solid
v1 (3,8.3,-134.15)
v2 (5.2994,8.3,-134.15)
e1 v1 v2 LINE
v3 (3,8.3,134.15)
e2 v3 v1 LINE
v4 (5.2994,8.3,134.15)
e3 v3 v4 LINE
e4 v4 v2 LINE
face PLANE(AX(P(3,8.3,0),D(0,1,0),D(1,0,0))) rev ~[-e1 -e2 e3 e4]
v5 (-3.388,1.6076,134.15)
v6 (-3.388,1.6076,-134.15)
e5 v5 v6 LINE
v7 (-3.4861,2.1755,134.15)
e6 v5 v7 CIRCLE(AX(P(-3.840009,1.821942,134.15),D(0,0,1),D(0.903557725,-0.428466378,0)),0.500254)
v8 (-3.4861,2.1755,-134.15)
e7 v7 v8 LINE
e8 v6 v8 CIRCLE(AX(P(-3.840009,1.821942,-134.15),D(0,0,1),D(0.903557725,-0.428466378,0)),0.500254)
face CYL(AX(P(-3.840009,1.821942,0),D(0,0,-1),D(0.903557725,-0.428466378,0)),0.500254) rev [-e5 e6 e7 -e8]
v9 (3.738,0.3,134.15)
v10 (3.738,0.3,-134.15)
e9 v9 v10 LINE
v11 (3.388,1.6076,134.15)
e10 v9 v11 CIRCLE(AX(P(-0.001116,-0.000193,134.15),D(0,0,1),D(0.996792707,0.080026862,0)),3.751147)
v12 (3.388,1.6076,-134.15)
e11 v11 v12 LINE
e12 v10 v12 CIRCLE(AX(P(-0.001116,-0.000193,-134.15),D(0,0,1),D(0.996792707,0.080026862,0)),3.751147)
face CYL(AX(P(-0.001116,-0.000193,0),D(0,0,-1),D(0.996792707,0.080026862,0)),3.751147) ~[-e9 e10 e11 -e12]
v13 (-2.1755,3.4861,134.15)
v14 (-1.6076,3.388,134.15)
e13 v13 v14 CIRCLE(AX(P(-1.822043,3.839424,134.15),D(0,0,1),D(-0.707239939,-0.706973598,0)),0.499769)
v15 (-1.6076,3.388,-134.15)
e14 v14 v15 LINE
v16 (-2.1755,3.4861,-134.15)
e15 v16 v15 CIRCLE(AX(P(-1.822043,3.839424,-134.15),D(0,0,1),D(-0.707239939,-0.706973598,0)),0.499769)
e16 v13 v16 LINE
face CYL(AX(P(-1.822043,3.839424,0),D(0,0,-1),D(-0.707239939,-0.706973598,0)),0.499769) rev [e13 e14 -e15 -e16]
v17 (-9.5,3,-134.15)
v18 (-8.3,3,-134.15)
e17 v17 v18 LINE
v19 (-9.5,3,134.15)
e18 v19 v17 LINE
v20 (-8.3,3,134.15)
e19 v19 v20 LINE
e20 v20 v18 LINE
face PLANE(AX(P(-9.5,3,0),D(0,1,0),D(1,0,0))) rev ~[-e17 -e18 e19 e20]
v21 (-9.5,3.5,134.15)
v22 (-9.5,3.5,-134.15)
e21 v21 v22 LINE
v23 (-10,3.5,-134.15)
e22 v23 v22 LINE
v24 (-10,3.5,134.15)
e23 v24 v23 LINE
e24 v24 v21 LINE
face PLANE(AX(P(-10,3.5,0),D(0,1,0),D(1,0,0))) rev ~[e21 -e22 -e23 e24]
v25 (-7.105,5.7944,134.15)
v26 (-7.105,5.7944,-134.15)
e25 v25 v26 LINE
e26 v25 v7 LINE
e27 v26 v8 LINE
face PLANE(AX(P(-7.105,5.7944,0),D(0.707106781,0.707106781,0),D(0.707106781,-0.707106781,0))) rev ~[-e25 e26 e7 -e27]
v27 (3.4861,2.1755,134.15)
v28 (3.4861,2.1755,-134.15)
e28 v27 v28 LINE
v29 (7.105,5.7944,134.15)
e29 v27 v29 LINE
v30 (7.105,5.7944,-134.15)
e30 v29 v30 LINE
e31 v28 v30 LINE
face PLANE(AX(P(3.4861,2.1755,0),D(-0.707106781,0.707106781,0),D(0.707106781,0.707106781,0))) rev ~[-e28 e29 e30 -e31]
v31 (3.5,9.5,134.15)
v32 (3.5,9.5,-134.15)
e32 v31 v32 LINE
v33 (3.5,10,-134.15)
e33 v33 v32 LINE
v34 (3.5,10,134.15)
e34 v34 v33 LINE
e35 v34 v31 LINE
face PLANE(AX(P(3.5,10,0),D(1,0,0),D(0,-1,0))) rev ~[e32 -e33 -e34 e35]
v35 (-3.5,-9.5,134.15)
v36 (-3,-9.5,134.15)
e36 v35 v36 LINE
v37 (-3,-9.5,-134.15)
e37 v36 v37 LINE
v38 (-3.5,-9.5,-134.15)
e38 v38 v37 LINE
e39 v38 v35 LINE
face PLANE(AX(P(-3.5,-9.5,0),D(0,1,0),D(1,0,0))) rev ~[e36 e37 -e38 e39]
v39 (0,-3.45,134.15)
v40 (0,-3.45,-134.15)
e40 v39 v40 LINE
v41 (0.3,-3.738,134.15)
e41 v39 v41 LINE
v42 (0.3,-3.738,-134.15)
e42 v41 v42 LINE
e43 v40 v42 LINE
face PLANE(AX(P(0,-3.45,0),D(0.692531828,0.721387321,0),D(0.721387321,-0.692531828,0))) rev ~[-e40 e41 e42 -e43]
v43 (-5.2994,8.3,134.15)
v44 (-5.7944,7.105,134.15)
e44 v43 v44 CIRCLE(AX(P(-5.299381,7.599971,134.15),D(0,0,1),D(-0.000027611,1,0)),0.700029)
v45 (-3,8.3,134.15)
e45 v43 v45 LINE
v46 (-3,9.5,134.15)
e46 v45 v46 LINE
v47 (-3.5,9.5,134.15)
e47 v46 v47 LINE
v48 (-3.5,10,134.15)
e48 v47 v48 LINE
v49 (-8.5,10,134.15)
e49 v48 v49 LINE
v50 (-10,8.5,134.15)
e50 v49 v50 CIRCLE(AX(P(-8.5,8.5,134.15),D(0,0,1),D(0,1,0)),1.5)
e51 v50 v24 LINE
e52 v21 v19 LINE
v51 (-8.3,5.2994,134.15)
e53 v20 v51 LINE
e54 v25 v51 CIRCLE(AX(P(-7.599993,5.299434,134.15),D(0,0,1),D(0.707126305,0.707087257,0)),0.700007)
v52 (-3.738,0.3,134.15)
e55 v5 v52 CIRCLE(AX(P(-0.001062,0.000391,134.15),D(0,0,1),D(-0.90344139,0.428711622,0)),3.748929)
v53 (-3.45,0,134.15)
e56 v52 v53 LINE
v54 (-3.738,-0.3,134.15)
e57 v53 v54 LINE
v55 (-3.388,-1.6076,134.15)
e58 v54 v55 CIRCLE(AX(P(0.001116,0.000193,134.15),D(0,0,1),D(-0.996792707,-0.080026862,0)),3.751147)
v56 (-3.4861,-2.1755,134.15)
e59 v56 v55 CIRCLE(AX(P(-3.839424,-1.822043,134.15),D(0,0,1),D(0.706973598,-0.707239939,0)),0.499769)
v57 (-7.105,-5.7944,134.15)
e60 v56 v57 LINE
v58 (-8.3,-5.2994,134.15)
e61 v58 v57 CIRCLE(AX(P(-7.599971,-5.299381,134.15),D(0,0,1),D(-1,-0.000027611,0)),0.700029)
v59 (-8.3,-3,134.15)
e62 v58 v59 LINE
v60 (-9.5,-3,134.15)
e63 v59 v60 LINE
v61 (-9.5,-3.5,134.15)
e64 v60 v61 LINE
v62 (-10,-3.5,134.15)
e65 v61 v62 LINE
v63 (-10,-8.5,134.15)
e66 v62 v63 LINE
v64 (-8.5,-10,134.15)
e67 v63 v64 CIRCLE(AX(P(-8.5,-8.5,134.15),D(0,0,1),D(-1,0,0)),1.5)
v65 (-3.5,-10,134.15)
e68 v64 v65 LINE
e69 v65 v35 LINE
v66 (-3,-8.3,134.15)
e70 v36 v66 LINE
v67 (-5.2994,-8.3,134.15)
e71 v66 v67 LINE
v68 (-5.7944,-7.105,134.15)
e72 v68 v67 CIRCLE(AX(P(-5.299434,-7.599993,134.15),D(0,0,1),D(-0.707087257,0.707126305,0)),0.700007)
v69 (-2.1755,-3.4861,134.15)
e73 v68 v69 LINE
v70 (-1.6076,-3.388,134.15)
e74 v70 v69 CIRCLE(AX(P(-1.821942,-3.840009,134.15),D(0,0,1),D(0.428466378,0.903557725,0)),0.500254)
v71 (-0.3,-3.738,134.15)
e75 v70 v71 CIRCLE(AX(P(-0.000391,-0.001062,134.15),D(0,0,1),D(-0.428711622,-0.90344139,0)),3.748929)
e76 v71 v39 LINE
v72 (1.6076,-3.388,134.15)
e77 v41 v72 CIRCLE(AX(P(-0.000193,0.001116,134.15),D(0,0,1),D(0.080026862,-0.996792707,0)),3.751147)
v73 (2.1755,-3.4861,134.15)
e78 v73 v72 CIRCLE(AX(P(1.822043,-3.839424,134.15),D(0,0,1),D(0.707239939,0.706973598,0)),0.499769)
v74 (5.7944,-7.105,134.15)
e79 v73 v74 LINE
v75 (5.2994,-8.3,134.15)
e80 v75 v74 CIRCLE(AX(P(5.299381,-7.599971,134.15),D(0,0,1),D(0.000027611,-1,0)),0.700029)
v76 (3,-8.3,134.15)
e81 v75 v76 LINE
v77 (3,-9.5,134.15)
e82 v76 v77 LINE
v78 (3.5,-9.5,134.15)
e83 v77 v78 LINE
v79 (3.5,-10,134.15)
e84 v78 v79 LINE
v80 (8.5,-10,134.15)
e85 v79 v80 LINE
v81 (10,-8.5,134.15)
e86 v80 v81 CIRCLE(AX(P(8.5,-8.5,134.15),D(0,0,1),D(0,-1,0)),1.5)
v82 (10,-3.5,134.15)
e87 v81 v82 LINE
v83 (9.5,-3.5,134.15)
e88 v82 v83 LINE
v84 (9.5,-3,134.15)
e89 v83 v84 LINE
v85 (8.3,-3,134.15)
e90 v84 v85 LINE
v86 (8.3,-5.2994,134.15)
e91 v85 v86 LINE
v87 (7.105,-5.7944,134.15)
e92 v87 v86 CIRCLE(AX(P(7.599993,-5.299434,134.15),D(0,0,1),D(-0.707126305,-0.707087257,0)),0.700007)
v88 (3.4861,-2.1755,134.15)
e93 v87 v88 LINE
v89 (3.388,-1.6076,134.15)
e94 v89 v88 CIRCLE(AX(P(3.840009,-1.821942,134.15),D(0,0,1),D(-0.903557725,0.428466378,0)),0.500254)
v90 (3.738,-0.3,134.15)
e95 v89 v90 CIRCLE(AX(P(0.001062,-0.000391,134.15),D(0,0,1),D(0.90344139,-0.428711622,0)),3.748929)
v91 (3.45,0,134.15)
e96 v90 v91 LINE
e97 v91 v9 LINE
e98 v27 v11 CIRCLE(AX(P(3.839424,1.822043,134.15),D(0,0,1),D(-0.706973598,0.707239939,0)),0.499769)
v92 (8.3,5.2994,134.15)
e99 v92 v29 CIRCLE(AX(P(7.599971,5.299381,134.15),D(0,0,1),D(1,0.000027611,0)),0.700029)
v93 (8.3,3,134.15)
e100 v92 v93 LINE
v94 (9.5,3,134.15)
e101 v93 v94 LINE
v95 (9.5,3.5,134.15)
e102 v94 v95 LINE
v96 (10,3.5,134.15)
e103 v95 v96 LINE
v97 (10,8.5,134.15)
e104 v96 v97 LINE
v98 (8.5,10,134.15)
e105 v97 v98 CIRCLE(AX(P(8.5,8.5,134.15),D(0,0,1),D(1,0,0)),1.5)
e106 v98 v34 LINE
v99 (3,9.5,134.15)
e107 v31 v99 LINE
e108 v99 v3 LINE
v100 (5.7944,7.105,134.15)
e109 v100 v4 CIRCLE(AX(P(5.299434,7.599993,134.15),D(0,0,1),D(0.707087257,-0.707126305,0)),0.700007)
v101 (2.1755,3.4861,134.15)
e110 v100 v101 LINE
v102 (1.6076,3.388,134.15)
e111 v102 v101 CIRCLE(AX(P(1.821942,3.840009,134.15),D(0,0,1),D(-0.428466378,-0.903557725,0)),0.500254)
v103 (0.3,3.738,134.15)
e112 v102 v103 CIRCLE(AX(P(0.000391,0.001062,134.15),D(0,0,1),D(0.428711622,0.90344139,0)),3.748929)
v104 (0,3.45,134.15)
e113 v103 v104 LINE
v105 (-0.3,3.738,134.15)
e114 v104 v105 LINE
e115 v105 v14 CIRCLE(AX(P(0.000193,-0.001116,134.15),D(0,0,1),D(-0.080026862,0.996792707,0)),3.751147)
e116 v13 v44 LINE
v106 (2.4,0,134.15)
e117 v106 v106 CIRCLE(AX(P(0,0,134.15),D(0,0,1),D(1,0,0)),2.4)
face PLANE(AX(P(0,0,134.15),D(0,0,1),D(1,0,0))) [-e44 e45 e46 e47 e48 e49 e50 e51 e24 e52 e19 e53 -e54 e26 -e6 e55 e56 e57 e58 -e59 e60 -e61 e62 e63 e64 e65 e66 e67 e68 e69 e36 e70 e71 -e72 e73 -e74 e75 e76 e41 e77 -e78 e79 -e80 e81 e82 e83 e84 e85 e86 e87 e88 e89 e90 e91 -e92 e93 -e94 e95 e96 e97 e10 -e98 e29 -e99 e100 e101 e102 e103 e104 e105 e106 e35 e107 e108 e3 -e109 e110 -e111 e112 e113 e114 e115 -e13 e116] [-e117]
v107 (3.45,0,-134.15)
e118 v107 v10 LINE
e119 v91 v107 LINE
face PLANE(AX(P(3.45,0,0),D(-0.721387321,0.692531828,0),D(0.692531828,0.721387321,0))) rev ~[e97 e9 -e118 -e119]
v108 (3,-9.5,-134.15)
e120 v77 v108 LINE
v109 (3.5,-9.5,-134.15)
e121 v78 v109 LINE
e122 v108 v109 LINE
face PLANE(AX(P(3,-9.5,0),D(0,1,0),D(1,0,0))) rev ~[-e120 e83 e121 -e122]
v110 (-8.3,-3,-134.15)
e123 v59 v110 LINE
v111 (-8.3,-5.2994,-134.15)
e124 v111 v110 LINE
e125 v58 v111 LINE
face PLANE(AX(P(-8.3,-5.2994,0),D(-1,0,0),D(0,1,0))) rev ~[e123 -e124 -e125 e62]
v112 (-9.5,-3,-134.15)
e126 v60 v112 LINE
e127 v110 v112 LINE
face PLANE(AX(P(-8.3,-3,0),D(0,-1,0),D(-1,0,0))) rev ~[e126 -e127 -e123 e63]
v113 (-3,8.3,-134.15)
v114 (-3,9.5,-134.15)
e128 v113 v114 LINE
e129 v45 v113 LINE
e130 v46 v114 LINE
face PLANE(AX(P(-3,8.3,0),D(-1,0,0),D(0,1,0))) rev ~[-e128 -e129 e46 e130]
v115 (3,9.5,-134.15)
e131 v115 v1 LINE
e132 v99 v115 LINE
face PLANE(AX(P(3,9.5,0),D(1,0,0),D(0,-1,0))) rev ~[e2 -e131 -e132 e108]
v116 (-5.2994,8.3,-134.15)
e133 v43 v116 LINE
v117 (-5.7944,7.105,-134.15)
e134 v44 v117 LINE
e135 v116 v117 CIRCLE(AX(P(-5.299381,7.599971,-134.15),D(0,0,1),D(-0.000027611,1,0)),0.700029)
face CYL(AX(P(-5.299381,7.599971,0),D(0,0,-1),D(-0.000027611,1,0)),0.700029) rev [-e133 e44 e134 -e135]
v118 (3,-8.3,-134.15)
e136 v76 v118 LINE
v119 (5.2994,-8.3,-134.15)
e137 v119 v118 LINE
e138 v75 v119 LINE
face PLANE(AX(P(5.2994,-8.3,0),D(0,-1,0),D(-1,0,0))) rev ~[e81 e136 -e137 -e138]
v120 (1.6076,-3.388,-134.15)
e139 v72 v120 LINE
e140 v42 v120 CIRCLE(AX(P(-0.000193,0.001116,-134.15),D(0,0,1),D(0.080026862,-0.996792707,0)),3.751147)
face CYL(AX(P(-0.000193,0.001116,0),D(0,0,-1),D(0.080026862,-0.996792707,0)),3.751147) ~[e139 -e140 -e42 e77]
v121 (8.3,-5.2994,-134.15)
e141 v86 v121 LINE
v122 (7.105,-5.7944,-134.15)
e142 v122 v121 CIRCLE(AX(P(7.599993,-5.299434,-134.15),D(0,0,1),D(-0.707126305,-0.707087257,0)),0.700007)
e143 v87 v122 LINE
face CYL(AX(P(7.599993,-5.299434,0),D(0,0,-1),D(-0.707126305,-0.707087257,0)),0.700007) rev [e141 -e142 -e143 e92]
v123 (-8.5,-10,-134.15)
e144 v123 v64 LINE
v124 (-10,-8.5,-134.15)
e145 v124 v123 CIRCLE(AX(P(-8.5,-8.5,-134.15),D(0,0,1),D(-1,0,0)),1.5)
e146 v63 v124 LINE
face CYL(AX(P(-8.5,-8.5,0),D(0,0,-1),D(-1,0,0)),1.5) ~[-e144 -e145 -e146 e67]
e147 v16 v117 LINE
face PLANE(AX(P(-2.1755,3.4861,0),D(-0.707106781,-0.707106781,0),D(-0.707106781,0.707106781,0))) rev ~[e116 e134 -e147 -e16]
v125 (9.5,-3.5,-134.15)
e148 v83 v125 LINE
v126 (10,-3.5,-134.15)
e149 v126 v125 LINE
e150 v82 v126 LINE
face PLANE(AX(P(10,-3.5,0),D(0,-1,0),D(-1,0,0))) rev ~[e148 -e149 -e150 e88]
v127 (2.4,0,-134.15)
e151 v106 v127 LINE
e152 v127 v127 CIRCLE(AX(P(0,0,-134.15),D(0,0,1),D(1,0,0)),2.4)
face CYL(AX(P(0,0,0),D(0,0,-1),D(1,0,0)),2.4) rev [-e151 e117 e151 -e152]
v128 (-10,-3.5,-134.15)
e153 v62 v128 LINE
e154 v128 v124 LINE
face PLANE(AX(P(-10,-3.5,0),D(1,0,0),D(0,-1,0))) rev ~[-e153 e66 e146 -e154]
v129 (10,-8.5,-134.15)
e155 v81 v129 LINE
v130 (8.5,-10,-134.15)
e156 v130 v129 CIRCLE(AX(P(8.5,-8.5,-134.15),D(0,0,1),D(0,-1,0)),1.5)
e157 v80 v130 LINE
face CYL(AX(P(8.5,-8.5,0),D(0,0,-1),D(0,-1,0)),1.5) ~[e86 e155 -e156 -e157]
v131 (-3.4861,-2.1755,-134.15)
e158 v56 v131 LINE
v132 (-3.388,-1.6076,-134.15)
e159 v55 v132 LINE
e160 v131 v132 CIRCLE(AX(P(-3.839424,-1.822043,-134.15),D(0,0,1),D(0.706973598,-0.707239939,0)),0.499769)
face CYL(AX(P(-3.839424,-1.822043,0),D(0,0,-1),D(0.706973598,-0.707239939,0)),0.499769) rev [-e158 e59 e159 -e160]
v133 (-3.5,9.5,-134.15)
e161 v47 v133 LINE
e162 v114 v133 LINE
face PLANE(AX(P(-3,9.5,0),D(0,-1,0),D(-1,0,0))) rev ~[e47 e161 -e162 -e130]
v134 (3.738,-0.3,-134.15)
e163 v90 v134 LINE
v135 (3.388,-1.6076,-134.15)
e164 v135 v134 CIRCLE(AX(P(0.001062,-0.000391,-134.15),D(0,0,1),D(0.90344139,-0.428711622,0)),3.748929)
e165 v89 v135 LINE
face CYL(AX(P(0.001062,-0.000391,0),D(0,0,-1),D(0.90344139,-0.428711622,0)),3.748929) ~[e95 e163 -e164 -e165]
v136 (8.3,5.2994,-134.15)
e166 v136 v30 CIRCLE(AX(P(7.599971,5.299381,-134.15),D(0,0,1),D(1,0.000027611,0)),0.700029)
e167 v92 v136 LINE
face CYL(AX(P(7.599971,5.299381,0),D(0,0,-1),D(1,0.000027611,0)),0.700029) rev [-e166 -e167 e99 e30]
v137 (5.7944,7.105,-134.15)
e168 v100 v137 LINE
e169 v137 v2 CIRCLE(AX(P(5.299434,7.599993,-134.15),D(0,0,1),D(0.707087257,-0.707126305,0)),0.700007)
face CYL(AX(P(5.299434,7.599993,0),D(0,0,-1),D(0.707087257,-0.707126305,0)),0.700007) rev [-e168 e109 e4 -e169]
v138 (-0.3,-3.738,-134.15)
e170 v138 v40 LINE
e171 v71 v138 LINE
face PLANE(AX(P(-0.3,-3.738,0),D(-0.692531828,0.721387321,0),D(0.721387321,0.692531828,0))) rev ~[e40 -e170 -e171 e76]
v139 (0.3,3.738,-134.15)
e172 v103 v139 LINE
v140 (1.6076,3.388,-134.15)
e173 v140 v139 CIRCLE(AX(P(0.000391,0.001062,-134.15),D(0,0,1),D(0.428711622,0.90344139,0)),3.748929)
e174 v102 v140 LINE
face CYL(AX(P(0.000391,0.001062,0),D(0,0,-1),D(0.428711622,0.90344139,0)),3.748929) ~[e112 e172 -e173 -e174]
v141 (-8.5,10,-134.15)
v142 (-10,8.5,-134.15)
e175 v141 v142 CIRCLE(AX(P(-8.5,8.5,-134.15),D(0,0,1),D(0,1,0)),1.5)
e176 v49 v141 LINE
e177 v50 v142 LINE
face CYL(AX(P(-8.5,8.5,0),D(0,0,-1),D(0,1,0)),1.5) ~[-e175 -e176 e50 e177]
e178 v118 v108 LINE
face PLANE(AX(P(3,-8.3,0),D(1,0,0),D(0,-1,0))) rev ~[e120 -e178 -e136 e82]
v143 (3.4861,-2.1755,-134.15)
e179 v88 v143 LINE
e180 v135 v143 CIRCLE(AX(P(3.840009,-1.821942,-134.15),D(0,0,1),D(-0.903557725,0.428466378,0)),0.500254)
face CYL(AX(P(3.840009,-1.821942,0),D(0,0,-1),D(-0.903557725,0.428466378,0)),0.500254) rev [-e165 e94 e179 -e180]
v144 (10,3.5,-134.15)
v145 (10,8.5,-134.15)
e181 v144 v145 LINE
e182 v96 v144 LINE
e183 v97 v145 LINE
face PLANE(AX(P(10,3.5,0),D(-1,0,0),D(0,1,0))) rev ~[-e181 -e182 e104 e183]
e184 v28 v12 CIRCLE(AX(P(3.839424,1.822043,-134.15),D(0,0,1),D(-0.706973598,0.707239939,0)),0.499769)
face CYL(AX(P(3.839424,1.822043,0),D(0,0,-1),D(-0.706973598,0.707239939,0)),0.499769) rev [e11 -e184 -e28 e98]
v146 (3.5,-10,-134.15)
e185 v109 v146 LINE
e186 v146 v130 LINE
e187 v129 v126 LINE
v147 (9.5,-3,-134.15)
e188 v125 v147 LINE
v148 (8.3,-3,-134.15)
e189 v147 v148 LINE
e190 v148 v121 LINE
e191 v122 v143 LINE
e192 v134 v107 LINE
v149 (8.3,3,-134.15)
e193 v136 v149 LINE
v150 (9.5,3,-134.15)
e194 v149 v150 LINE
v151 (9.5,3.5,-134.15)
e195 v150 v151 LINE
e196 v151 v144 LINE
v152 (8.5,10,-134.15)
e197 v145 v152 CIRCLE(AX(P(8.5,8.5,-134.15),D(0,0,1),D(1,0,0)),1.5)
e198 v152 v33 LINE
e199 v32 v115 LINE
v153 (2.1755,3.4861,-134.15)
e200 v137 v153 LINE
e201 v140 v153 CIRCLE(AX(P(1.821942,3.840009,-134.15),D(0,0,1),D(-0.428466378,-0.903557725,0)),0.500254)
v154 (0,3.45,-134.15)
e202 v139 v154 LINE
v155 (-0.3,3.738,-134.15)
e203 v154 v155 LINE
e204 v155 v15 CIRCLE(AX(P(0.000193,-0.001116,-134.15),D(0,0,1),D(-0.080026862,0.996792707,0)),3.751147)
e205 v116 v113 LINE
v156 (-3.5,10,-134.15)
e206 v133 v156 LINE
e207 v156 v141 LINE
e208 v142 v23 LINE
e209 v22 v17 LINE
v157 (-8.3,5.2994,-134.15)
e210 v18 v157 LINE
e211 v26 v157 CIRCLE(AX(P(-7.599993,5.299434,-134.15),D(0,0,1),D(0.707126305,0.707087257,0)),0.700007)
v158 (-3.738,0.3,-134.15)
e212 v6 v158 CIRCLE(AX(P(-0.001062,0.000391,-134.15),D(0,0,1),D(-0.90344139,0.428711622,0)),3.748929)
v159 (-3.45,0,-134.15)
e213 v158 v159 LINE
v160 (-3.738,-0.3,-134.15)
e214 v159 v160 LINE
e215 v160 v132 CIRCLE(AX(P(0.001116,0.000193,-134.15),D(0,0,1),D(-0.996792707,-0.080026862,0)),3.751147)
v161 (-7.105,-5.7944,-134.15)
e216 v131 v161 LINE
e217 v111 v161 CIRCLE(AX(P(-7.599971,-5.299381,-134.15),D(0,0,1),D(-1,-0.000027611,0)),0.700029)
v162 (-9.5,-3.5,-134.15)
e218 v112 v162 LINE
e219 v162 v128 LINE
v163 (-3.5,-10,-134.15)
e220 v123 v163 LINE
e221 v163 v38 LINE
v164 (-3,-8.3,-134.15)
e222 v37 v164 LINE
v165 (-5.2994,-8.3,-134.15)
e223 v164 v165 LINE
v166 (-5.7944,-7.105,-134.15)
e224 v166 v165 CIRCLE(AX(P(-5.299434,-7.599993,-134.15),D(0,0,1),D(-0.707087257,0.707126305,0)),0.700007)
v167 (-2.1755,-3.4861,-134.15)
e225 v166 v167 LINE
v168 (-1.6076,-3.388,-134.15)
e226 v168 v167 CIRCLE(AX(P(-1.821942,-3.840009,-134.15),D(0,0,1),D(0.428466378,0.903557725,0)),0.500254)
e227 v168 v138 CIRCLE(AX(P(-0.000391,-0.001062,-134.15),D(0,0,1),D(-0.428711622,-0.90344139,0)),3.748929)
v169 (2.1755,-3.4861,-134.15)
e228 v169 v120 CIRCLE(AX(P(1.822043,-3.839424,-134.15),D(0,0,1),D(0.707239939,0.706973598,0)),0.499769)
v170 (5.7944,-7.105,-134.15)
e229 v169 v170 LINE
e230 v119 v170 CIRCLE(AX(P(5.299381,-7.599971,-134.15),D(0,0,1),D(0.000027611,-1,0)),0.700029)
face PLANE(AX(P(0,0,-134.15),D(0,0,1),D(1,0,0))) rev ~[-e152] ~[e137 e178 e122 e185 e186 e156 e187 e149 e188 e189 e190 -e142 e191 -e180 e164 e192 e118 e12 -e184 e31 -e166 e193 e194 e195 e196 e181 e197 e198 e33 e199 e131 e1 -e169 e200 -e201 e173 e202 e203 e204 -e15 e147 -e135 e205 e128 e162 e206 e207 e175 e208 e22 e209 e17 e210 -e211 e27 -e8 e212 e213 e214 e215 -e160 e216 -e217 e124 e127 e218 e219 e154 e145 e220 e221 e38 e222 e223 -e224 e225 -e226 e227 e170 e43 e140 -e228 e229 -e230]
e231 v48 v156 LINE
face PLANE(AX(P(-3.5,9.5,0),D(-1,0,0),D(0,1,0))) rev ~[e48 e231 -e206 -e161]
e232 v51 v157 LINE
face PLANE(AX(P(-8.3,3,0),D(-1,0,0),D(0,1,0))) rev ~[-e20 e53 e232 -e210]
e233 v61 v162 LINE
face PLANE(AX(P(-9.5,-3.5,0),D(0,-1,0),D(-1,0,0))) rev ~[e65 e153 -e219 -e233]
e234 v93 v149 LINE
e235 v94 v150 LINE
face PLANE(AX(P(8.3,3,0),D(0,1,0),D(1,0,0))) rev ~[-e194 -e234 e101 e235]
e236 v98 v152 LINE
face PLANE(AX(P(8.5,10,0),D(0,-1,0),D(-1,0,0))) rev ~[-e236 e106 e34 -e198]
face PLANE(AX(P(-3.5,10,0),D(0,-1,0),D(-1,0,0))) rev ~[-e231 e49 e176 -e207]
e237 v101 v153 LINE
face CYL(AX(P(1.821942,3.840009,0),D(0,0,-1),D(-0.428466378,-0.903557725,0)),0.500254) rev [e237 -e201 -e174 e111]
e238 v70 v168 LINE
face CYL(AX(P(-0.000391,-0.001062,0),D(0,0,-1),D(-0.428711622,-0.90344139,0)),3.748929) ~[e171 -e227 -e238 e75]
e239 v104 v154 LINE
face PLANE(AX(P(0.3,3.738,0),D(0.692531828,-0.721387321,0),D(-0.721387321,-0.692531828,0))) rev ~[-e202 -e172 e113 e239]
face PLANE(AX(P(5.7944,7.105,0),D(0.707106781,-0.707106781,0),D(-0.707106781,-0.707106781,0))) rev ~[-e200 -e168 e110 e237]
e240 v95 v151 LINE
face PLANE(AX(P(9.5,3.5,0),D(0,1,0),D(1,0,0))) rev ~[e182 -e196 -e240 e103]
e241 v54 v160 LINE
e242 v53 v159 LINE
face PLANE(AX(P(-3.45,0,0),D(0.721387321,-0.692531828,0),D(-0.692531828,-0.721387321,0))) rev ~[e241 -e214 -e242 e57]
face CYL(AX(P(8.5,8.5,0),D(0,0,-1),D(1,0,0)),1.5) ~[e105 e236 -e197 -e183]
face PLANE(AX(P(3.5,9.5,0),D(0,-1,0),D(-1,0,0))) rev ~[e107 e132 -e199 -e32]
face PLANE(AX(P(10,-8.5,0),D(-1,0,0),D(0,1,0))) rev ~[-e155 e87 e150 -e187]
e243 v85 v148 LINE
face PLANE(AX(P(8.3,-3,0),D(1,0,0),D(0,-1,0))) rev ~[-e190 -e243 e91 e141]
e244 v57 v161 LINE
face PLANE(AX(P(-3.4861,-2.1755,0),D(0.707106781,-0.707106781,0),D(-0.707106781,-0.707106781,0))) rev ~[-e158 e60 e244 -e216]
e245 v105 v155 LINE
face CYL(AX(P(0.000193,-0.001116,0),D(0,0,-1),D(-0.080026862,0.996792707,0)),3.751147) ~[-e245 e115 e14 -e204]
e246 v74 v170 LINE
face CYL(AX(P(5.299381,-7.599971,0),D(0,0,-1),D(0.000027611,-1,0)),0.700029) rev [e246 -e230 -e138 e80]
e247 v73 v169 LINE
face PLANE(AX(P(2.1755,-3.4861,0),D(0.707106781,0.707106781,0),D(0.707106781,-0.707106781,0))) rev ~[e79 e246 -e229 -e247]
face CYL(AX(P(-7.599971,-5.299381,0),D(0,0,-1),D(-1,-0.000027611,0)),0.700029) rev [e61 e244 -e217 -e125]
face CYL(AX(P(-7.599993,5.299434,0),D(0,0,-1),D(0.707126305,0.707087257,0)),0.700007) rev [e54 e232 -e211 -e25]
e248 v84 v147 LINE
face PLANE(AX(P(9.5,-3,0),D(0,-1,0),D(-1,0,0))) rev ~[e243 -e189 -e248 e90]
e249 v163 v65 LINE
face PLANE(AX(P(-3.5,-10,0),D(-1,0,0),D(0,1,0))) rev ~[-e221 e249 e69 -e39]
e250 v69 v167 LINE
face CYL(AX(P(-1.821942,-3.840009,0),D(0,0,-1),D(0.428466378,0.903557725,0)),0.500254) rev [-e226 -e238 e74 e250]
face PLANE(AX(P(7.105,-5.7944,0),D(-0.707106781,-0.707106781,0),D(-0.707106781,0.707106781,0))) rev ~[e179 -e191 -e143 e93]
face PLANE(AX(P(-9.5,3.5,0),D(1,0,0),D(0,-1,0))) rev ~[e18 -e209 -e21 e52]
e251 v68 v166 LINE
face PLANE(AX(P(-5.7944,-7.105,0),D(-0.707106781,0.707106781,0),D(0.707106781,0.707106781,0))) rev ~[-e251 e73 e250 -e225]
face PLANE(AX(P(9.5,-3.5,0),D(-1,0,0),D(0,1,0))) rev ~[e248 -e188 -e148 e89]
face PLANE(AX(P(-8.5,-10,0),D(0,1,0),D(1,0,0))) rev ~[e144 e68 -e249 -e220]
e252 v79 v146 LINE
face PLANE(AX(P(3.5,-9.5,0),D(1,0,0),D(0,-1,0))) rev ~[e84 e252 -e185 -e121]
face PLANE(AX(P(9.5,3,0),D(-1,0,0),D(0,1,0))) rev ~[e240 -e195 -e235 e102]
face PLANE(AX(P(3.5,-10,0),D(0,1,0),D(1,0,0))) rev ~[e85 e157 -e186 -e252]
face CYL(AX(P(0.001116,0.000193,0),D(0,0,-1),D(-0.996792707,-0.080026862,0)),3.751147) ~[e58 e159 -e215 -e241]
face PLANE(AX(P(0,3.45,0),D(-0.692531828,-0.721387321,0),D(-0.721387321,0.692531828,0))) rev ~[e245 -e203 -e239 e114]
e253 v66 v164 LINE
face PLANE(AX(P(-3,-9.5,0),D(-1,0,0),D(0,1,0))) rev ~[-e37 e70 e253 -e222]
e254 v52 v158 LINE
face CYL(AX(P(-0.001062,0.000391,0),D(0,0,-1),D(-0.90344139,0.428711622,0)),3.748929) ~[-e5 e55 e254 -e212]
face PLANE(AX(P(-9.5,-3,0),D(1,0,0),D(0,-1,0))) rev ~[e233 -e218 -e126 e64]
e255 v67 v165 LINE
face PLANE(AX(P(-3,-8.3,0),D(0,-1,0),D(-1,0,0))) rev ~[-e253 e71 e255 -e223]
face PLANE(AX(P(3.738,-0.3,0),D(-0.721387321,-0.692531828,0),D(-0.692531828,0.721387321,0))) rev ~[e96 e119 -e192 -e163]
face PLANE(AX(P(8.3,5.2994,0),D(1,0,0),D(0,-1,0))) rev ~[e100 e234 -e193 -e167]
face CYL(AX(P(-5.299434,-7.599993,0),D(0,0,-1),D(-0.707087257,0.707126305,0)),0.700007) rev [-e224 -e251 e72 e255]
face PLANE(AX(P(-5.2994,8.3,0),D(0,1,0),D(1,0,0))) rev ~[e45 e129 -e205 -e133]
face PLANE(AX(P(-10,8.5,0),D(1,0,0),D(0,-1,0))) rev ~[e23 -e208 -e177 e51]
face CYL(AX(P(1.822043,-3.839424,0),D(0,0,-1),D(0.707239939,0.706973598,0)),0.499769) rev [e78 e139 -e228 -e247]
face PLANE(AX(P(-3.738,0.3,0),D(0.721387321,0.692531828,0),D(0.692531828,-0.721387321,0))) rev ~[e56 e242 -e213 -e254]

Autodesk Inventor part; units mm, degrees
ref_plane "YZ Plane" through (0, 0, 0) normal (1, 0, 0) x (0, 1, 0)
ref_plane "XZ Plane" through (0, 0, 0) normal (0, 1, 0) x (-1, 0, 0)
ref_plane "XY Plane" through (0, 0, 0) normal (0, 0, 1) x (1, 0, 0)
sketch "Esquisse1" plane through (0, 0, 0) normal (0, 0, 1) x (1, 0, 0)
  line L0 (-8.5, -10) -> (-3.5, -10)
  line L1 (-3.5, -10) -> (-3.5, -9.5)
  line L2 (-3.5, -9.5) -> (-3, -9.5)
  line L3 (-3, -9.5) -> (-3, -8.3)
  line L4 (-3, -8.3) -> (-5.2994, -8.3)
  arc A0 (-5.7944, -7.105) -> (-5.2994, -8.3) centre (-5.2994, -7.6) ccw
  line L5 (-5.7944, -7.105) -> (-2.1755, -3.4861)
  arc A1 (-1.6076, -3.388) -> (-2.1755, -3.4861) centre (-1.8219, -3.8397) ccw
  arc A2 (-1.6076, -3.388) -> (-0.3, -3.738) centre (0, 0) ccw
  line L6 (-0.3, -3.738) -> (0, -3.45)
  line L7 (0, -3.45) -> (0.3, -3.738)
  arc A3 (0.3, -3.738) -> (1.6076, -3.388) centre (0, 0) ccw
  arc A4 (2.1755, -3.4861) -> (1.6076, -3.388) centre (1.8219, -3.8397) ccw
  line L8 (2.1755, -3.4861) -> (5.7944, -7.105)
  arc A5 (5.2994, -8.3) -> (5.7944, -7.105) centre (5.2994, -7.6) ccw
  line L9 (5.2994, -8.3) -> (3, -8.3)
  line L10 (3, -8.3) -> (3, -9.5)
  line L11 (3, -9.5) -> (3.5, -9.5)
  line L12 (3.5, -9.5) -> (3.5, -10)
  line L13 (3.5, -10) -> (8.5, -10)
  arc A6 (8.5, -10) -> (10, -8.5) centre (8.5, -8.5) ccw
  line L14 (10, -8.5) -> (10, -3.5)
  line L15 (10, -3.5) -> (9.5, -3.5)
  line L16 (9.5, -3.5) -> (9.5, -3)
  line L17 (9.5, -3) -> (8.3, -3)
  line L18 (8.3, -3) -> (8.3, -5.2994)
  arc A7 (7.105, -5.7944) -> (8.3, -5.2994) centre (7.6, -5.2994) ccw
  line L19 (7.105, -5.7944) -> (3.4861, -2.1755)
  arc A8 (3.388, -1.6076) -> (3.4861, -2.1755) centre (3.8397, -1.8219) ccw
  arc A9 (3.388, -1.6076) -> (3.738, -0.3) centre (0, 0) ccw
  line L20 (3.738, -0.3) -> (3.45, 0)
  line L21 (3.45, 0) -> (3.738, 0.3)
  arc A10 (3.738, 0.3) -> (3.388, 1.6076) centre (0, 0) ccw
  arc A11 (3.4861, 2.1755) -> (3.388, 1.6076) centre (3.8397, 1.8219) ccw
  line L22 (3.4861, 2.1755) -> (7.105, 5.7944)
  arc A12 (8.3, 5.2994) -> (7.105, 5.7944) centre (7.6, 5.2994) ccw
  line L23 (8.3, 5.2994) -> (8.3, 3)
  line L24 (8.3, 3) -> (9.5, 3)
  line L25 (9.5, 3) -> (9.5, 3.5)
  line L26 (9.5, 3.5) -> (10, 3.5)
  line L27 (10, 3.5) -> (10, 8.5)
  arc A13 (10, 8.5) -> (8.5, 10) centre (8.5, 8.5) ccw
  line L28 (8.5, 10) -> (3.5, 10)
  line L29 (3.5, 10) -> (3.5, 9.5)
  line L30 (3.5, 9.5) -> (3, 9.5)
  line L31 (3, 9.5) -> (3, 8.3)
  line L32 (3, 8.3) -> (5.2994, 8.3)
  arc A14 (5.7944, 7.105) -> (5.2994, 8.3) centre (5.2994, 7.6) ccw
  line L33 (5.7944, 7.105) -> (2.1755, 3.4861)
  arc A15 (1.6076, 3.388) -> (2.1755, 3.4861) centre (1.8219, 3.8397) ccw
  arc A16 (1.6076, 3.388) -> (0.3, 3.738) centre (0, 0) ccw
  line L34 (0.3, 3.738) -> (0, 3.45)
  line L35 (0, 3.45) -> (-0.3, 3.738)
  arc A17 (-0.3, 3.738) -> (-1.6076, 3.388) centre (0, 0) ccw
  arc A18 (-2.1755, 3.4861) -> (-1.6076, 3.388) centre (-1.8219, 3.8397) ccw
  line L36 (-2.1755, 3.4861) -> (-5.7944, 7.105)
  arc A19 (-5.2994, 8.3) -> (-5.7944, 7.105) centre (-5.2994, 7.6) ccw
  line L37 (-5.2994, 8.3) -> (-3, 8.3)
  line L38 (-3, 8.3) -> (-3, 9.5)
  line L39 (-3, 9.5) -> (-3.5, 9.5)
  line L40 (-3.5, 9.5) -> (-3.5, 10)
  line L41 (-3.5, 10) -> (-8.5, 10)
  arc A20 (-8.5, 10) -> (-10, 8.5) centre (-8.5, 8.5) ccw
  line L42 (-10, 8.5) -> (-10, 3.5)
  line L43 (-10, 3.5) -> (-9.5, 3.5)
  line L44 (-9.5, 3.5) -> (-9.5, 3)
  line L45 (-9.5, 3) -> (-8.3, 3)
  line L46 (-8.3, 3) -> (-8.3, 5.2994)
  arc A21 (-7.105, 5.7944) -> (-8.3, 5.2994) centre (-7.6, 5.2994) ccw
  line L47 (-7.105, 5.7944) -> (-3.4861, 2.1755)
  arc A22 (-3.388, 1.6076) -> (-3.4861, 2.1755) centre (-3.8397, 1.8219) ccw
  arc A23 (-3.388, 1.6076) -> (-3.738, 0.3) centre (0, 0) ccw
  line L48 (-3.738, 0.3) -> (-3.45, 0)
  line L49 (-3.45, 0) -> (-3.738, -0.3)
  arc A24 (-3.738, -0.3) -> (-3.388, -1.6076) centre (0, 0) ccw
  arc A25 (-3.4861, -2.1755) -> (-3.388, -1.6076) centre (-3.8397, -1.8219) ccw
  line L50 (-3.4861, -2.1755) -> (-7.105, -5.7944)
  arc A26 (-8.3, -5.2994) -> (-7.105, -5.7944) centre (-7.6, -5.2994) ccw
  line L51 (-8.3, -5.2994) -> (-8.3, -3)
  line L52 (-8.3, -3) -> (-9.5, -3)
  line L53 (-9.5, -3) -> (-9.5, -3.5)
  line L54 (-9.5, -3.5) -> (-10, -3.5)
  line L55 (-10, -3.5) -> (-10, -8.5)
  arc A27 (-10, -8.5) -> (-8.5, -10) centre (-8.5, -8.5) ccw
  circle A28 centre (0, 0) radius 2.4
  dimension "d2" = 4.8
extrude "Extrusion1" add sketch "Esquisse1" along normal mid plane 268.3
properties part number "Profilés du réduit 20x20"
